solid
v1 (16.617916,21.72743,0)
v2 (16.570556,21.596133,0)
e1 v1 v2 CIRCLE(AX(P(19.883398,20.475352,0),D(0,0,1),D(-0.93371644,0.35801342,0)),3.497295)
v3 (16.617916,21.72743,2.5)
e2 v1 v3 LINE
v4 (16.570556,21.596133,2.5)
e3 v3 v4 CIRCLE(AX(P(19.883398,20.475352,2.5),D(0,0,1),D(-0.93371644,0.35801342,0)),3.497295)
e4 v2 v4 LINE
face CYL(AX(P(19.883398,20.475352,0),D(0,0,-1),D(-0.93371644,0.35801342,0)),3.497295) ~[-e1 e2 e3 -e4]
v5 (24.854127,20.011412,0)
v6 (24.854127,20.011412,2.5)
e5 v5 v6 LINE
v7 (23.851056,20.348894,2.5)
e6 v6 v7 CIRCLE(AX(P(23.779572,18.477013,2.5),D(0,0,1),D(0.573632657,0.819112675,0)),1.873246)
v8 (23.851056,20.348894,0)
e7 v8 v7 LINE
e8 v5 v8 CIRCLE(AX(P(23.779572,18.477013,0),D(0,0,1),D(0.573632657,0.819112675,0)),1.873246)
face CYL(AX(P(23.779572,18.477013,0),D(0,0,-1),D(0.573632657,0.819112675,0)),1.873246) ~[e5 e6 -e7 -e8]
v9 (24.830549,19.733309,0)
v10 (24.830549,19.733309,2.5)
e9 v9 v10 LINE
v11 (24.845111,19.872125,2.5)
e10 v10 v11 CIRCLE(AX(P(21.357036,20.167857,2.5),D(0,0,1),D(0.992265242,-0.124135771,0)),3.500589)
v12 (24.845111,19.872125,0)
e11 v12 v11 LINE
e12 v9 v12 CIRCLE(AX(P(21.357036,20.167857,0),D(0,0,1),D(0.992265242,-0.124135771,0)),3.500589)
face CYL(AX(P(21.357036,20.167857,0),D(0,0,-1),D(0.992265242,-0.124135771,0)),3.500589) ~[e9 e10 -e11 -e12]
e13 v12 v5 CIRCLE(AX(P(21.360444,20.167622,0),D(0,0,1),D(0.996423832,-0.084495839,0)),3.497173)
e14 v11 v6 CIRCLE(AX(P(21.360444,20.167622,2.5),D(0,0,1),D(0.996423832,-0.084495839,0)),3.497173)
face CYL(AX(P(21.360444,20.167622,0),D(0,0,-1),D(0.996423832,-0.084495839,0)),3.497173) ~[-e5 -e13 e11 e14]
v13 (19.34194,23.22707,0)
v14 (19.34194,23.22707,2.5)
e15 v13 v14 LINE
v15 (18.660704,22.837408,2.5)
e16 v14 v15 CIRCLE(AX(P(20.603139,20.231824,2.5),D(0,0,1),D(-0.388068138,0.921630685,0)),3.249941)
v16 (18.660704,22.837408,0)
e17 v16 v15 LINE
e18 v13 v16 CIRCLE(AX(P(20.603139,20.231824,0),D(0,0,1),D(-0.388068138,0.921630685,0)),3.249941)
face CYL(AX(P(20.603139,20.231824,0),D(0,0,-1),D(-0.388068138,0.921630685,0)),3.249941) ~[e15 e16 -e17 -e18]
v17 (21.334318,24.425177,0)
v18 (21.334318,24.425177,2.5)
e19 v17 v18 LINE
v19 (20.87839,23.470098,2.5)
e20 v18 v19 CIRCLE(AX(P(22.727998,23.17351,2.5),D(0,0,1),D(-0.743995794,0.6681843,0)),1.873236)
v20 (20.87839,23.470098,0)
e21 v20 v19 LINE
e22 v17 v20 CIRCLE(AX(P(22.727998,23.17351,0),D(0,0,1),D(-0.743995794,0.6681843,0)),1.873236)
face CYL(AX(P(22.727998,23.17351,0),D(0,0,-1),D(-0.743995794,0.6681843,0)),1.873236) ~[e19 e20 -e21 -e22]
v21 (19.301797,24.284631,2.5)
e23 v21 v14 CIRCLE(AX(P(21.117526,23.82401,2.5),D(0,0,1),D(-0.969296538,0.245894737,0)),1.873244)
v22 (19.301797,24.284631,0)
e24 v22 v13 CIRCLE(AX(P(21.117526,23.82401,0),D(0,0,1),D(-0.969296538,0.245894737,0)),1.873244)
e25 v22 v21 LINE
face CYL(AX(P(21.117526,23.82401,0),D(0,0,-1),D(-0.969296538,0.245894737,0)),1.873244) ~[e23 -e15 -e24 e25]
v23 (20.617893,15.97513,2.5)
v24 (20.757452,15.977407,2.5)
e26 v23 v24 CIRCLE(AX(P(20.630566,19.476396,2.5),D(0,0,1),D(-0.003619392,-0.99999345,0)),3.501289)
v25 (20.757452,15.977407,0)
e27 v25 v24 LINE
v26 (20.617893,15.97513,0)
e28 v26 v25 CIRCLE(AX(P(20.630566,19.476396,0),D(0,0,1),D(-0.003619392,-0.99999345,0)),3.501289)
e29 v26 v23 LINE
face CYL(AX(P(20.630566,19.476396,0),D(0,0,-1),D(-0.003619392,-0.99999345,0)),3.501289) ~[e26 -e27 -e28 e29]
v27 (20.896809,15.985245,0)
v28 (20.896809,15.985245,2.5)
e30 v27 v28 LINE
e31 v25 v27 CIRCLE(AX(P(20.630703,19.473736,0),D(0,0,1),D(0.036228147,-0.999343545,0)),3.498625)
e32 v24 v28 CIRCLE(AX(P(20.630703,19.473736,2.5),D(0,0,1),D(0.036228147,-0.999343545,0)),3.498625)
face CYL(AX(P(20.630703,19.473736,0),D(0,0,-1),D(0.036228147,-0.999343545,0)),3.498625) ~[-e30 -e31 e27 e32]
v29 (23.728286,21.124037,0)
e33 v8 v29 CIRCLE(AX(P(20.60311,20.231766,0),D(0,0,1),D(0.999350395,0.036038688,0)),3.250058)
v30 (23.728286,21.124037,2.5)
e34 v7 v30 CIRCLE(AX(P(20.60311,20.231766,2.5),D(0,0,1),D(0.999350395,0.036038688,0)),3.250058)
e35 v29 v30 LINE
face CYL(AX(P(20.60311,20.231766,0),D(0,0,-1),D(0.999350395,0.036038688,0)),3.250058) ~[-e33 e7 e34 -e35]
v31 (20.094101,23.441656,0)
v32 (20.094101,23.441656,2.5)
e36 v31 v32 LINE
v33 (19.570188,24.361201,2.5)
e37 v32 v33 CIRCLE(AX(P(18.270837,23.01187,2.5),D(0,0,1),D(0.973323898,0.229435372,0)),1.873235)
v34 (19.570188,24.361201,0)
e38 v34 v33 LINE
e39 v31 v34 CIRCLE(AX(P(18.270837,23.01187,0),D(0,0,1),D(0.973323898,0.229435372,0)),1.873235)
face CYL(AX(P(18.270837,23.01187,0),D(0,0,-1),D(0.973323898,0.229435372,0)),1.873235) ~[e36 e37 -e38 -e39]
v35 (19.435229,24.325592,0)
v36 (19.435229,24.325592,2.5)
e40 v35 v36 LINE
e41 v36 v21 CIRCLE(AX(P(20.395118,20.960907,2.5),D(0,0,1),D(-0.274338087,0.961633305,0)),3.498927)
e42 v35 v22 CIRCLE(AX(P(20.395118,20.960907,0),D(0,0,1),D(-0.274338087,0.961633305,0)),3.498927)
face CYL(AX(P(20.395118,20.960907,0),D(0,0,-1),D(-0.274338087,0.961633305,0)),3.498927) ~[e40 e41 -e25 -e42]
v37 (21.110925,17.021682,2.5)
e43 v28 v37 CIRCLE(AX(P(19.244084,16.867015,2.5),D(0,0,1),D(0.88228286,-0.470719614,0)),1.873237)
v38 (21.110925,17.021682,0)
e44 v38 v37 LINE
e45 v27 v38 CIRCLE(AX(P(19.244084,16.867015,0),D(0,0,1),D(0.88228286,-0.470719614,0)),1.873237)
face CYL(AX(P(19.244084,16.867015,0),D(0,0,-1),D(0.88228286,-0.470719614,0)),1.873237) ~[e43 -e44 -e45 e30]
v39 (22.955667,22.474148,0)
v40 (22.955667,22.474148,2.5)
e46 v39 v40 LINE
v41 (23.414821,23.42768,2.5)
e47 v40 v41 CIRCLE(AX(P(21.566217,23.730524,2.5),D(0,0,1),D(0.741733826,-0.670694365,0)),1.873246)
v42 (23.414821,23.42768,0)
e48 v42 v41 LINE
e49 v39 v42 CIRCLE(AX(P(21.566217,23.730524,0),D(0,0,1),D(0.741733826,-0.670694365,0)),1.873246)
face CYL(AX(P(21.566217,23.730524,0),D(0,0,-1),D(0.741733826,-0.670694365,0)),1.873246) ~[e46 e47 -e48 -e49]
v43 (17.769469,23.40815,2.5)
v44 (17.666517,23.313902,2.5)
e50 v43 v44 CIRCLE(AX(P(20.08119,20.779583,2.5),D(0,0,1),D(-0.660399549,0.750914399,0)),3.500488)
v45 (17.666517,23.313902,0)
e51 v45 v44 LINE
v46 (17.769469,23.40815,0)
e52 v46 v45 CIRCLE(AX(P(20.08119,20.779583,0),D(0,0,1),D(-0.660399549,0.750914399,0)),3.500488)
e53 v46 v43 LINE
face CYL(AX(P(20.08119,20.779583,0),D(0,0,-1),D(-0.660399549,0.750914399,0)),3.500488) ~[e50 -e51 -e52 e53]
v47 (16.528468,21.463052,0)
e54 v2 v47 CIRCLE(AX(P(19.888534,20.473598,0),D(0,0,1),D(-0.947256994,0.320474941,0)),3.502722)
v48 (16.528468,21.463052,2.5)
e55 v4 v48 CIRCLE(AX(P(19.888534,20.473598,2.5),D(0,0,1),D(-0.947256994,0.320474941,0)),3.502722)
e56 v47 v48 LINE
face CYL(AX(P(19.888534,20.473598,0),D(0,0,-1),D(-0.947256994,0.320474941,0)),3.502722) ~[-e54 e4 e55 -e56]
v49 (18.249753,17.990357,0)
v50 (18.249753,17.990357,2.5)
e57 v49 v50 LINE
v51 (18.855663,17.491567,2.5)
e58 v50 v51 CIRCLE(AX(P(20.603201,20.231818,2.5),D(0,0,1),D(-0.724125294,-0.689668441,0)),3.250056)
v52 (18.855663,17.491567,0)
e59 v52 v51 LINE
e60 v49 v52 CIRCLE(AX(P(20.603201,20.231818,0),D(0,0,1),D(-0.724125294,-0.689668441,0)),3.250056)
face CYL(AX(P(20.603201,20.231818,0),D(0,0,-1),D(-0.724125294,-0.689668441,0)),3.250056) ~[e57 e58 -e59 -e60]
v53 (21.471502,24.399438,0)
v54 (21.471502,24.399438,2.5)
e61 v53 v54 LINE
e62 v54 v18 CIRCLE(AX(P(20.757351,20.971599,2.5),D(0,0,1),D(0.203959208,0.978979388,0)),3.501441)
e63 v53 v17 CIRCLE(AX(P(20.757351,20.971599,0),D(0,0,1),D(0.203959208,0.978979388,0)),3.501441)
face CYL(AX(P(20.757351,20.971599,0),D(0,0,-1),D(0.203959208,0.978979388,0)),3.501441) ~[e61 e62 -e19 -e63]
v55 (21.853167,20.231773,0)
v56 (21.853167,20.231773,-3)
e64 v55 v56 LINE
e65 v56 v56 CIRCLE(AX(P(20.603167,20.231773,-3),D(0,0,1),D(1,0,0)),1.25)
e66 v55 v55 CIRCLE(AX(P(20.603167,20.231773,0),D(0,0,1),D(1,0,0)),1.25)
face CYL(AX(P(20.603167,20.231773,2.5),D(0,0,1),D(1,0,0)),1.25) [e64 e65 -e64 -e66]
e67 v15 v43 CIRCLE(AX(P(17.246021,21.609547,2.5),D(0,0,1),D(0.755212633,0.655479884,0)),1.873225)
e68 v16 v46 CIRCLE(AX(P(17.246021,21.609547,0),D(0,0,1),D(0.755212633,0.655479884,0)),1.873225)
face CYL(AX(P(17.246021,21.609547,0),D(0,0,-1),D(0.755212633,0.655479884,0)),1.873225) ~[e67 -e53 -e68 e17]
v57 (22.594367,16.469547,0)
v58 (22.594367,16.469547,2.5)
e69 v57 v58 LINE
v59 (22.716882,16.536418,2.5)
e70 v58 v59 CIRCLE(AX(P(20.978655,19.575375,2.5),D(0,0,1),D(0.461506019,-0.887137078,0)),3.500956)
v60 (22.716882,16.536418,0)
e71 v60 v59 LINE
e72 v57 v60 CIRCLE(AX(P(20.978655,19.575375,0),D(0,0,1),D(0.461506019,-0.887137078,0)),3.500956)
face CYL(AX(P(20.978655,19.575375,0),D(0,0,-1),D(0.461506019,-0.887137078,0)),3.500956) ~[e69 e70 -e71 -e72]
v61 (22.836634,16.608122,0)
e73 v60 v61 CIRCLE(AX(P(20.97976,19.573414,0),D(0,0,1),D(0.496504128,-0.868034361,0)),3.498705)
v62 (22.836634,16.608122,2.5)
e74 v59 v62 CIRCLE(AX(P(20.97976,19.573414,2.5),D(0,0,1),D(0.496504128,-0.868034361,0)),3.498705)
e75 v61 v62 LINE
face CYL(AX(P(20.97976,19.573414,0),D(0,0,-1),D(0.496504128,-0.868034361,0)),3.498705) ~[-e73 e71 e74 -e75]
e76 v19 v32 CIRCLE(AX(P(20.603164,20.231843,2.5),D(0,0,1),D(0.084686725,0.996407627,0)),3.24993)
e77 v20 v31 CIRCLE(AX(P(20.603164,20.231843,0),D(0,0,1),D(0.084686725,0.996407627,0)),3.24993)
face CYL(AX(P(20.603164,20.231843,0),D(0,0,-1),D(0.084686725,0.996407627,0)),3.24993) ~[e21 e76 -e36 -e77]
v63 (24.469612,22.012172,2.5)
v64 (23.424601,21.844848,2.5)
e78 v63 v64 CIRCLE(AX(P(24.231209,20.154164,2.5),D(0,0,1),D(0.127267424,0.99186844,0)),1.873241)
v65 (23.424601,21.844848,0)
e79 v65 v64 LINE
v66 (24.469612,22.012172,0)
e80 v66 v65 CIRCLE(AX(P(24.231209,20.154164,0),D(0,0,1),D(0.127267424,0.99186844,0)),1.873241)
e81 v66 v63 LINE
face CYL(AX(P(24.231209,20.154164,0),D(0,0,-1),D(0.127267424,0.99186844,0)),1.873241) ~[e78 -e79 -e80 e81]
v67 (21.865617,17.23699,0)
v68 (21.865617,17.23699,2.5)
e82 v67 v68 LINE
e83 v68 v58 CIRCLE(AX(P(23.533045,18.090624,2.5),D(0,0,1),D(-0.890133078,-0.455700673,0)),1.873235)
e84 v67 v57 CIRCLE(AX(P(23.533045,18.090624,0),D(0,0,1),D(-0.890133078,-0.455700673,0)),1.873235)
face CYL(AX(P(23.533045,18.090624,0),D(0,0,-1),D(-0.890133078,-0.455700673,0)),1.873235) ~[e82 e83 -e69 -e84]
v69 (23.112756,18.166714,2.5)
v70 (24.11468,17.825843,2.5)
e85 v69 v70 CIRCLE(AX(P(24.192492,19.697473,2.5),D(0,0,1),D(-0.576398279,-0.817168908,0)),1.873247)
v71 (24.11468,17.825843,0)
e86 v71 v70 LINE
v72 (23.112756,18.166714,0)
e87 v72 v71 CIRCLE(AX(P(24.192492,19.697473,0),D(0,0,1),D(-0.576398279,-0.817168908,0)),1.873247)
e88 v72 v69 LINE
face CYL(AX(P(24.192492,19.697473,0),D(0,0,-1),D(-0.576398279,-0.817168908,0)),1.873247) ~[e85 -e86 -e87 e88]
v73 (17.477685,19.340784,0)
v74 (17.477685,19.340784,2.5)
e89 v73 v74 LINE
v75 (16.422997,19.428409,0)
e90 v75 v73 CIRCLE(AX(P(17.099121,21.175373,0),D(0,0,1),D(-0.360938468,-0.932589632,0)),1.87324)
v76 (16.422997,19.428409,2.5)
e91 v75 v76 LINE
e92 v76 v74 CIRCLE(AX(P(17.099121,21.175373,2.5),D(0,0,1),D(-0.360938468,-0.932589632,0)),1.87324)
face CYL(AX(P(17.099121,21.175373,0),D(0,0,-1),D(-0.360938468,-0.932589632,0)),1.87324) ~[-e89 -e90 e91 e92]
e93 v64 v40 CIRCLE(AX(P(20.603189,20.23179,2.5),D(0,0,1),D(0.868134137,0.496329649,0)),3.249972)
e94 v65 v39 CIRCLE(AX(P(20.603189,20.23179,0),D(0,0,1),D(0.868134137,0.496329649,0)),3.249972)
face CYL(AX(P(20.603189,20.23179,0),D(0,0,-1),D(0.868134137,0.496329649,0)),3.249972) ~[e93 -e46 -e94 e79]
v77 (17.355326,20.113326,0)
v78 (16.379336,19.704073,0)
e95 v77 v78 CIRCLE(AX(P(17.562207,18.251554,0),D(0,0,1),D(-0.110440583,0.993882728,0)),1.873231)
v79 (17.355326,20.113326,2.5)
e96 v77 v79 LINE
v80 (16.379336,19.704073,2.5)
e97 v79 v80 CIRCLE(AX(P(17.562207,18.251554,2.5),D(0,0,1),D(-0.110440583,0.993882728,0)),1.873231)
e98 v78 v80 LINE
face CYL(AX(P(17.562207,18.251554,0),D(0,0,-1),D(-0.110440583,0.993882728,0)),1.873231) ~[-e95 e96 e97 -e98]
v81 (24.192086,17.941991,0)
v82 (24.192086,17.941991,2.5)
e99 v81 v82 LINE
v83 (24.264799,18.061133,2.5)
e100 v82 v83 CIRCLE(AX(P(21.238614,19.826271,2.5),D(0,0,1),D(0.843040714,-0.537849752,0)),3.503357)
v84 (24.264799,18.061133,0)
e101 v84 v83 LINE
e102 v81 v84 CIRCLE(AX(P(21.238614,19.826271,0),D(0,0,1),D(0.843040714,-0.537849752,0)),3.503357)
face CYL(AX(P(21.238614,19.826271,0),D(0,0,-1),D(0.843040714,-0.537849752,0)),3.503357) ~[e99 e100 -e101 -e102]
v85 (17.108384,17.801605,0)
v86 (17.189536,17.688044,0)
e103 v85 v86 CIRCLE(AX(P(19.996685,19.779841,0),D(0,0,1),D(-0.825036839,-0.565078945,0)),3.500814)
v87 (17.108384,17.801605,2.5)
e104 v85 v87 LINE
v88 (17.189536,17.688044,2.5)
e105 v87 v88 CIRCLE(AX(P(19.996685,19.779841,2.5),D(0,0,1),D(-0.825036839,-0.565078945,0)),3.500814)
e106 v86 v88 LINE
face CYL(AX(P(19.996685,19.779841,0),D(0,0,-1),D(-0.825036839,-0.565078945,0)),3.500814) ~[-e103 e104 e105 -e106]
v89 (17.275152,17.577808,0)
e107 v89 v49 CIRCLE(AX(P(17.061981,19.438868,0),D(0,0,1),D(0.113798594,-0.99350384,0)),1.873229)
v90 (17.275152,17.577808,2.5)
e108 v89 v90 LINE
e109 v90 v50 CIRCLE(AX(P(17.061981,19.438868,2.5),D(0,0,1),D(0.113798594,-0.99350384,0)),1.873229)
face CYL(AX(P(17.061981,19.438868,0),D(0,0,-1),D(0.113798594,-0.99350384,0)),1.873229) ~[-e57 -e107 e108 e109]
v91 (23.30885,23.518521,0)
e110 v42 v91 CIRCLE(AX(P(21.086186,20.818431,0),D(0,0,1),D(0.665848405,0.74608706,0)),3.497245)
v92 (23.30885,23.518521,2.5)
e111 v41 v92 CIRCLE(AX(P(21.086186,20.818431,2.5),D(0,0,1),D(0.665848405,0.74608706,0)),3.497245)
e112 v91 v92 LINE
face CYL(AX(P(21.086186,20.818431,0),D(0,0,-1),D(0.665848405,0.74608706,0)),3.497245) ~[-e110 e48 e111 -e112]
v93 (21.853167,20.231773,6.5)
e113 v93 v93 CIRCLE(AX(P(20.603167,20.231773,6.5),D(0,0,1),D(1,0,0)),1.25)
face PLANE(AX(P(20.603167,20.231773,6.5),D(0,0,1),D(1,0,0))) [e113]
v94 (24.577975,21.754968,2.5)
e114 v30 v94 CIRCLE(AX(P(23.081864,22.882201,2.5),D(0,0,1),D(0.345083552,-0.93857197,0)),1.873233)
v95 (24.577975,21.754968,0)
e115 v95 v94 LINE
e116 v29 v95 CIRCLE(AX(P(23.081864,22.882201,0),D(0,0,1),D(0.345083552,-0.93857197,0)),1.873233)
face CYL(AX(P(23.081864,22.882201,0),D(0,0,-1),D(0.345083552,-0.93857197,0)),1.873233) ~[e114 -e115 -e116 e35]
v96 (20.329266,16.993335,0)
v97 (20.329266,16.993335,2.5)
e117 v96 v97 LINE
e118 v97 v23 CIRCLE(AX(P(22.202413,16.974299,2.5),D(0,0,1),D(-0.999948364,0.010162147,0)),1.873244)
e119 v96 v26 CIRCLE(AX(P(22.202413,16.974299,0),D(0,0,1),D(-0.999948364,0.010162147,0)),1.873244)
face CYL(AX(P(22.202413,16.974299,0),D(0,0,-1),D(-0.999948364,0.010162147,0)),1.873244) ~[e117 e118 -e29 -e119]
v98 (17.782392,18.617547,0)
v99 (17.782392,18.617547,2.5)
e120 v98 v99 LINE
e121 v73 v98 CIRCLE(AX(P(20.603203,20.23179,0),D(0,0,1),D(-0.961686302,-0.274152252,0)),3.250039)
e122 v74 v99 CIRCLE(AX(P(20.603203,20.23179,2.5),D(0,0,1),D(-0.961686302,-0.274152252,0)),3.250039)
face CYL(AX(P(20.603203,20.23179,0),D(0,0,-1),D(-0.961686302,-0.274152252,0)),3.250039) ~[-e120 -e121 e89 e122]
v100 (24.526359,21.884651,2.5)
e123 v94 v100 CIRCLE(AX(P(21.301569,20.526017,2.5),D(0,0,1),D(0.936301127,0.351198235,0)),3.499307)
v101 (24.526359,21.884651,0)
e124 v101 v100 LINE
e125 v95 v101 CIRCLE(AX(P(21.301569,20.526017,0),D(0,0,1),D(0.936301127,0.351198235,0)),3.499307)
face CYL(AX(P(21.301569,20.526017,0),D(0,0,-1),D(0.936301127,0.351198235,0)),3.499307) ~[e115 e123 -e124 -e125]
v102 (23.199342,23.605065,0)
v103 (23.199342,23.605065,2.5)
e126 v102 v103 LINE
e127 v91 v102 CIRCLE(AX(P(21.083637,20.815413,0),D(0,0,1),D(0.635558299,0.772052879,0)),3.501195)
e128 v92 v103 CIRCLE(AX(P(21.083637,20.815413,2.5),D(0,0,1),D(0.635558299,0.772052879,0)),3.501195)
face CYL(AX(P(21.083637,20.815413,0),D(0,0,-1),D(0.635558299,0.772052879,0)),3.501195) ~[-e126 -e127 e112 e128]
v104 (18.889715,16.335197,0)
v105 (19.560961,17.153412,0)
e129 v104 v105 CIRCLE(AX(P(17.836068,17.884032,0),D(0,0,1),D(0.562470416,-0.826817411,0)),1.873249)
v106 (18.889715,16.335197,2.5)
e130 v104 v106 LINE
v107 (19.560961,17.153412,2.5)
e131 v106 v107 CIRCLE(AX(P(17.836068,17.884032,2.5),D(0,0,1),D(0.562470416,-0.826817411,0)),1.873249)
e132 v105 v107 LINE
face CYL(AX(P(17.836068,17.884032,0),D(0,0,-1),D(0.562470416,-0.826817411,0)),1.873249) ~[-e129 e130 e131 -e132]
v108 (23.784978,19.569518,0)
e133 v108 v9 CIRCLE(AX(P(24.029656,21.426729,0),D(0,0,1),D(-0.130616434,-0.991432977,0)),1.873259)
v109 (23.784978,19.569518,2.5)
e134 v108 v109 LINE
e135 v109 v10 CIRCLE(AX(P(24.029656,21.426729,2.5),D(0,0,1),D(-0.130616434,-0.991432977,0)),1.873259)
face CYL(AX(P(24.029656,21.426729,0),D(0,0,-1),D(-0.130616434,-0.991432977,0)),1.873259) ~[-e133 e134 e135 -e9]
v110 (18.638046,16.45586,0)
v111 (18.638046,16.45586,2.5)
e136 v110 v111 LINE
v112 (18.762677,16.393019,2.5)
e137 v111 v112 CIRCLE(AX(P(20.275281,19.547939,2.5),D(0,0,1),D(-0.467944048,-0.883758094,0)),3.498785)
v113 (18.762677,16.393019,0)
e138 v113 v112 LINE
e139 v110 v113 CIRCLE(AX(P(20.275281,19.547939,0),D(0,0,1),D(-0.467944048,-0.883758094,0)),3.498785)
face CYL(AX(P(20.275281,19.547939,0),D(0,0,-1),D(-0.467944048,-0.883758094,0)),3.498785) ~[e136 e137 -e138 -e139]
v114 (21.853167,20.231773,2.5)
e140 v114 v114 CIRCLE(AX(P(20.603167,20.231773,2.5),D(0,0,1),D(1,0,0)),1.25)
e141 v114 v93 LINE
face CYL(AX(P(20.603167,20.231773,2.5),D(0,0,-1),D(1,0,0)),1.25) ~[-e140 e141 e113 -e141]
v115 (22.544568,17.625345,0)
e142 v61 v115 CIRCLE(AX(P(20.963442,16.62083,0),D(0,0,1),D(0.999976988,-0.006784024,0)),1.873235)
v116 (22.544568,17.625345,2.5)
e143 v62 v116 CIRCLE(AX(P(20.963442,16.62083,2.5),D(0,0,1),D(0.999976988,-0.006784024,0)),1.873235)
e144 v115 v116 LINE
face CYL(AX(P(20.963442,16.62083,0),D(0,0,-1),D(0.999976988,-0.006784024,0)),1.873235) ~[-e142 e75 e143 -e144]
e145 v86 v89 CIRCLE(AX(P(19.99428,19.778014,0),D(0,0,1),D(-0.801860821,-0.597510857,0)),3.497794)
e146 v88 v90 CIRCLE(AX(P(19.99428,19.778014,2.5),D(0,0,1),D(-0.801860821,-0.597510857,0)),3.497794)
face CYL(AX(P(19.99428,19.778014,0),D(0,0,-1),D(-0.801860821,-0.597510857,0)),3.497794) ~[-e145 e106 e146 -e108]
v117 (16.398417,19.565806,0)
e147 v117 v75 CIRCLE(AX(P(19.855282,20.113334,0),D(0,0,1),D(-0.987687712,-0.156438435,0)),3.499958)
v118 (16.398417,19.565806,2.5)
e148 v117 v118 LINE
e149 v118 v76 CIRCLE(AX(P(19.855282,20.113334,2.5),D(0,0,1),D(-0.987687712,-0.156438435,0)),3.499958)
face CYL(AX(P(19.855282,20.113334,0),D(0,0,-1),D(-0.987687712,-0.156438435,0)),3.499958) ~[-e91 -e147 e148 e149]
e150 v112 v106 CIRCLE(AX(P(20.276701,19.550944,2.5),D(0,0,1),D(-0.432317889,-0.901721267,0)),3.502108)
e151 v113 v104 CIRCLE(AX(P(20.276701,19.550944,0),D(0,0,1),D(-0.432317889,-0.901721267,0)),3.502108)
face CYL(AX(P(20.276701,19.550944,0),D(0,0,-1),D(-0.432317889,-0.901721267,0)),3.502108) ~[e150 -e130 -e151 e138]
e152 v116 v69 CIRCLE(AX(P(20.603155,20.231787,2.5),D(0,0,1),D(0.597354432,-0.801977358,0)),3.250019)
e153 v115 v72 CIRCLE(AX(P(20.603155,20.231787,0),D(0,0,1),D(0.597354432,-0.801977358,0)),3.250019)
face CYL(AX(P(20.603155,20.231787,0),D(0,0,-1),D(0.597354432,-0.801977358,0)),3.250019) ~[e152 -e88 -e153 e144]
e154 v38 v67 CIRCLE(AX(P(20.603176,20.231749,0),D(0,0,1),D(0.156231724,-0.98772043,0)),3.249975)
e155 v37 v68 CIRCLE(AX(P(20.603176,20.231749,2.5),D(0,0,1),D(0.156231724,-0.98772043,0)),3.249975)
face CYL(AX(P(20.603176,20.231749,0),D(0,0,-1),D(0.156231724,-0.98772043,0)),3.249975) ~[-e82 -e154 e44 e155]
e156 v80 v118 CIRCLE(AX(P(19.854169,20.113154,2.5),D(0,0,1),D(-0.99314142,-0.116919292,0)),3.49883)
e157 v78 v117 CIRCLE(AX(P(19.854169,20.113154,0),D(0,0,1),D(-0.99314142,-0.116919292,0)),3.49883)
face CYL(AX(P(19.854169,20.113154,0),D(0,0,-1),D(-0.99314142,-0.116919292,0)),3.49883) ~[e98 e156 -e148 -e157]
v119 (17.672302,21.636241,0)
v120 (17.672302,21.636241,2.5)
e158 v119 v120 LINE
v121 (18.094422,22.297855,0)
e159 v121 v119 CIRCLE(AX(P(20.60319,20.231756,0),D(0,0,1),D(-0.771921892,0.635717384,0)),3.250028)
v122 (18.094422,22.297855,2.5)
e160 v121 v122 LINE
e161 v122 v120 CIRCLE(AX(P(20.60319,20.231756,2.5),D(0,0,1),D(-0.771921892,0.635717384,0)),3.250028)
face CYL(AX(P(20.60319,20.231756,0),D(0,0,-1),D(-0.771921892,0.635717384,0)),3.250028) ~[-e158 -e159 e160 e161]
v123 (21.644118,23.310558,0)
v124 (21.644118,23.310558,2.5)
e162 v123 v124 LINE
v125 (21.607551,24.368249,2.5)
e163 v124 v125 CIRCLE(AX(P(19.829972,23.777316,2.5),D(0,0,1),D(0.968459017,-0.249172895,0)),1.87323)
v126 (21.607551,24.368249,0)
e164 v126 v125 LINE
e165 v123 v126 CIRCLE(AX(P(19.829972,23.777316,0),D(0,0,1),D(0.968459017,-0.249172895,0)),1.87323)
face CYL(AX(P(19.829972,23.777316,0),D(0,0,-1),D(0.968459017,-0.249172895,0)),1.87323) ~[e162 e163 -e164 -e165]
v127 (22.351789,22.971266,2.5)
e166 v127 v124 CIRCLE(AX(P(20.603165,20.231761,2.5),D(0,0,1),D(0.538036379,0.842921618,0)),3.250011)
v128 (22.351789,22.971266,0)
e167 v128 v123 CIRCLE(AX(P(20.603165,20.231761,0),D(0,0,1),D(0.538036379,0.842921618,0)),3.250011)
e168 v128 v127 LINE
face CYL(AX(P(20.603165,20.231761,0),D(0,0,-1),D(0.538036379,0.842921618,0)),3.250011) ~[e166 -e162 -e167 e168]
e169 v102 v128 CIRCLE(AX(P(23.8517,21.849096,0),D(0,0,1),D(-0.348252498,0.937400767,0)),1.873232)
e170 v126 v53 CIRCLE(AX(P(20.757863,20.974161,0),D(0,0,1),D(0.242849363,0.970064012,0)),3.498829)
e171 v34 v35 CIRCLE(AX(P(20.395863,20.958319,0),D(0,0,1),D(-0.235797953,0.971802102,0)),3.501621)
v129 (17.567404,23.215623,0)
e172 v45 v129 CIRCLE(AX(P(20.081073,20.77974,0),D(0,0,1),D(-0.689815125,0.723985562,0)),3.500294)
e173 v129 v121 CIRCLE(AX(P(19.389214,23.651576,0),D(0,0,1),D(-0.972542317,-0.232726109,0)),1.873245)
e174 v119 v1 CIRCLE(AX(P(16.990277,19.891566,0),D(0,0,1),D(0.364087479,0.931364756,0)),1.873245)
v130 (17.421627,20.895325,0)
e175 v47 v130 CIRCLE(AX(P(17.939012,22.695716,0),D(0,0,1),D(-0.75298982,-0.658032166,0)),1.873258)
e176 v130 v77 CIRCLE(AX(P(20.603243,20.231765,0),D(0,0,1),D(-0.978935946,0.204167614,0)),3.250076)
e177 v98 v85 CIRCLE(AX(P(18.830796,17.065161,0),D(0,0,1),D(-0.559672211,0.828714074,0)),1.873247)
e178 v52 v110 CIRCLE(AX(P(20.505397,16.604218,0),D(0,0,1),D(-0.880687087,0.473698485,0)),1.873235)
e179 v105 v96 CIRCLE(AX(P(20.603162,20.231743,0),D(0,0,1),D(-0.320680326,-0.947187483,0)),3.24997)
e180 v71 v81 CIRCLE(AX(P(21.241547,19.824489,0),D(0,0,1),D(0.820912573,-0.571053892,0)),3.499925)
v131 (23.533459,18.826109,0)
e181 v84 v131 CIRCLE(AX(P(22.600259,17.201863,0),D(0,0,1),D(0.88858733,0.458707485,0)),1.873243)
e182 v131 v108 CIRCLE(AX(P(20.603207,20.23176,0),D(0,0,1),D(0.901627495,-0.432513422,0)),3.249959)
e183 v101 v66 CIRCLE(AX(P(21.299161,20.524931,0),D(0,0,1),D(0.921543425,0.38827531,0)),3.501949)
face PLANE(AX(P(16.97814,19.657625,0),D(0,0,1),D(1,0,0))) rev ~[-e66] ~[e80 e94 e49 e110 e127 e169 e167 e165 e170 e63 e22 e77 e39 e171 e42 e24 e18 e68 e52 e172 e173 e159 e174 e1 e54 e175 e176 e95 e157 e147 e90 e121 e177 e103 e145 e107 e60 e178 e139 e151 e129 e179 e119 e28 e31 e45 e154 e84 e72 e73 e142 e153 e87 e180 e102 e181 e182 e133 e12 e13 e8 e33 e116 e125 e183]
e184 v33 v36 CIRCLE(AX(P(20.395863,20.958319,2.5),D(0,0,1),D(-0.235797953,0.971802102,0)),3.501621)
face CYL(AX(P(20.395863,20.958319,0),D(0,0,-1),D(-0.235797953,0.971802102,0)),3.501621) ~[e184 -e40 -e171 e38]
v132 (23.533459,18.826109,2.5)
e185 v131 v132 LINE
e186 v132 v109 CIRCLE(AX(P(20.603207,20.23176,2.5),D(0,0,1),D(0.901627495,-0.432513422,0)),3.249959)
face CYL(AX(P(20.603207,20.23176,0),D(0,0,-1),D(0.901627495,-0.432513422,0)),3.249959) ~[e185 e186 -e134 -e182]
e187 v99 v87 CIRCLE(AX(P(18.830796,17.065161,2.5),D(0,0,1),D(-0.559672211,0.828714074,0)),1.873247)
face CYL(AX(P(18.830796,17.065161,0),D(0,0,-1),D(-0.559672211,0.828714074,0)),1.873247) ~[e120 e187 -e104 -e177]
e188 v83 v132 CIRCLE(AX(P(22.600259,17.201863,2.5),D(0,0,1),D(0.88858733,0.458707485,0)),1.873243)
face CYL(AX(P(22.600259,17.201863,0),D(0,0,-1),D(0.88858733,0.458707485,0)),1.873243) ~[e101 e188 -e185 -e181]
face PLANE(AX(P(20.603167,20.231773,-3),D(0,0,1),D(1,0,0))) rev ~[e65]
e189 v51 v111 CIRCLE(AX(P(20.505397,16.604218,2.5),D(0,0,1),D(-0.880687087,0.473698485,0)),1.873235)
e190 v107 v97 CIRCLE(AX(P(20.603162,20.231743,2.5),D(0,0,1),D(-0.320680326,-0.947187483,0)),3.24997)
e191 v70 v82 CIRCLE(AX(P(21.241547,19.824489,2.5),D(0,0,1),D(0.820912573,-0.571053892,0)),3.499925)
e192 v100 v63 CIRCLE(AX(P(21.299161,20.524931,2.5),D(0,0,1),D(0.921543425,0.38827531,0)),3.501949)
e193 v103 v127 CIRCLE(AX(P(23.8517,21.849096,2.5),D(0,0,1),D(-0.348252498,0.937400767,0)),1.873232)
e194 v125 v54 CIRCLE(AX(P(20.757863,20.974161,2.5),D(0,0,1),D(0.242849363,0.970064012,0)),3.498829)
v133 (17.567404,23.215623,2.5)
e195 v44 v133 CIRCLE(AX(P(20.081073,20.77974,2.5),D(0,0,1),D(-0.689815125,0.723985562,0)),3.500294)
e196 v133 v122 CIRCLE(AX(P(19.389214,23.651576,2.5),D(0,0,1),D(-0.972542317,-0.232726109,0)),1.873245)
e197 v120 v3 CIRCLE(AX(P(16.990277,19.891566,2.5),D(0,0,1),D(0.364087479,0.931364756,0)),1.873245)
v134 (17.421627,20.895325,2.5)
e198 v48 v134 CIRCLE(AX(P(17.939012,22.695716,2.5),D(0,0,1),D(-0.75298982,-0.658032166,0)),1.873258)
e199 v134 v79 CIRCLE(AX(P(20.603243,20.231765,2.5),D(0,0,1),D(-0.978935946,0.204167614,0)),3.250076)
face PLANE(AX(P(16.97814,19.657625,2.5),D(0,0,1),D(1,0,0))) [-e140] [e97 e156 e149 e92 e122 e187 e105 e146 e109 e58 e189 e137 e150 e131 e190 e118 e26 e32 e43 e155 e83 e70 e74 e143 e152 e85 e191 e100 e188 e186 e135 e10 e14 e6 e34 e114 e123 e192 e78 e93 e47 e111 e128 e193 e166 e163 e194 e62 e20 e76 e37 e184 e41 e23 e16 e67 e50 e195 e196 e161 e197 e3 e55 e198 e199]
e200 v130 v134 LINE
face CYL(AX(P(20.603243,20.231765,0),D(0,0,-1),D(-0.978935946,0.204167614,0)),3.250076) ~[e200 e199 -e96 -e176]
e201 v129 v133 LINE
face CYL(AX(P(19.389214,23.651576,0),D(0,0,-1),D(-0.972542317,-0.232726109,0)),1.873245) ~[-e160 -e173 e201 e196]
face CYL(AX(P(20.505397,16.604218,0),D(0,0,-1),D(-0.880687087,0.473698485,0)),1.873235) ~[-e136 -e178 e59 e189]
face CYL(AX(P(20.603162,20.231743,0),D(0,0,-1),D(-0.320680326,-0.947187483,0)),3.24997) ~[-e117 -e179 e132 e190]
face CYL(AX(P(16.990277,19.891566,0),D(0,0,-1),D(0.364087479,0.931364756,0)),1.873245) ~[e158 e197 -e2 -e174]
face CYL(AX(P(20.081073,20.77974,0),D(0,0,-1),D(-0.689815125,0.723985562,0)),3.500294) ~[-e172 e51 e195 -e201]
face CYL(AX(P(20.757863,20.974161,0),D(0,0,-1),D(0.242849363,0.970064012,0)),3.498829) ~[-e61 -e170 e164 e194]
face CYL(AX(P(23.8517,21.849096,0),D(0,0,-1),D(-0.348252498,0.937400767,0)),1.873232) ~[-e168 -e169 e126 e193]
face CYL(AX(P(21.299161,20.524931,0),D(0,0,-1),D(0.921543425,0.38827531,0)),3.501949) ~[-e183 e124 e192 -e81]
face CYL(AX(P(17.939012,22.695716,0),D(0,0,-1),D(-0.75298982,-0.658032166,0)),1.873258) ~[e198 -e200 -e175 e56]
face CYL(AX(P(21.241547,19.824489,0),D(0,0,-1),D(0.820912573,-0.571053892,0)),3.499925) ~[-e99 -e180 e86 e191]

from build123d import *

# Parameters (mm, degrees)
F1_DEPTH      = 2.5
F2_R          = 1.25
F3_DEPTH      = 4
F3_DEPTH_BACK = 5.5


with BuildPart() as f1:
    # F0 (on Top) → F1 (new body)
    with BuildSketch(Plane.XY):
        with BuildLine():
            ThreePointArc((16.398417, 19.565806), (16.410022, 19.496985), (16.422997, 19.428409))
            ThreePointArc((16.422997, 19.428409), (16.944024, 19.308565), (17.477685, 19.340784))
            ThreePointArc((17.477685, 19.340784), (17.39318, 19.723361), (17.355326, 20.113326))
            ThreePointArc((17.355326, 20.113326), (16.837828, 19.979058), (16.379336, 19.704073))
            ThreePointArc((16.379336, 19.704073), (16.388187, 19.634844), (16.398417, 19.565806))
        make_face()
        with BuildLine():
            ThreePointArc((17.355326, 20.113326), (17.39318, 19.723361), (17.477685, 19.340784))
            ThreePointArc((17.477685, 19.340784), (17.608128, 18.969934), (17.782392, 18.617547))
            ThreePointArc((17.782392, 18.617547), (17.997136, 18.289841), (18.249753, 17.990357))
            ThreePointArc((18.249753, 17.990357), (18.537597, 17.722606), (18.855663, 17.491567))
            ThreePointArc((18.855663, 17.491567), (19.198102, 17.301194), (19.560961, 17.153412))
            ThreePointArc((19.560961, 17.153412), (19.940264, 17.050097), (20.329266, 16.993335))
            ThreePointArc((20.329266, 16.993335), (20.720951, 16.983908), (21.110925, 17.021682))
            ThreePointArc((21.110925, 17.021682), (21.494794, 17.106472), (21.865617, 17.23699))
            ThreePointArc((21.865617, 17.23699), (22.216818, 17.410668), (22.544568, 17.625345))
            ThreePointArc((22.544568, 17.625345), (22.845063, 17.878816), (23.112756, 18.166714))
            ThreePointArc((23.112756, 18.166714), (23.343017, 18.483709), (23.533459, 18.826109))
            ThreePointArc((23.533459, 18.826109), (23.681741, 19.190194), (23.784978, 19.569518))
            ThreePointArc((23.784978, 19.569518), (23.836075, 19.898895), (23.853167, 20.231773))
            ThreePointArc((23.853167, 20.231773), (23.85264, 20.290343), (23.851056, 20.348894))
            ThreePointArc((23.851056, 20.348894), (23.813154, 20.740185), (23.728286, 21.124037))
            ThreePointArc((23.728286, 21.124037), (23.598207, 21.493611), (23.424601, 21.844848))
            ThreePointArc((23.424601, 21.844848), (23.209199, 22.173705), (22.955667, 22.474148))
            ThreePointArc((22.955667, 22.474148), (22.668738, 22.74094), (22.351789, 22.971266))
            ThreePointArc((22.351789, 22.971266), (22.008233, 23.162351), (21.644118, 23.310558))
            ThreePointArc((21.644118, 23.310558), (21.266071, 23.413448), (20.87839, 23.470098))
            ThreePointArc((20.87839, 23.470098), (20.485383, 23.479638), (20.094101, 23.441656))
            ThreePointArc((20.094101, 23.441656), (19.711541, 23.357073), (19.34194, 23.22707))
            ThreePointArc((19.34194, 23.22707), (18.989517, 23.052878), (18.660704, 22.837408))
            ThreePointArc((18.660704, 22.837408), (18.361272, 22.584729), (18.094422, 22.297855))
            ThreePointArc((18.094422, 22.297855), (17.863318, 21.979836), (17.672302, 21.636241))
            ThreePointArc((17.672302, 21.636241), (17.524594, 21.273352), (17.421627, 20.895325))
            ThreePointArc((17.421627, 20.895325), (17.364786, 20.506335), (17.355326, 20.113326))
        make_face()
        with BuildLine():
            ThreePointArc((18.249753, 17.990357), (17.997136, 18.289841), (17.782392, 18.617547))
            ThreePointArc((17.782392, 18.617547), (17.386568, 18.258165), (17.108384, 17.801605))
            ThreePointArc((17.108384, 17.801605), (17.148394, 17.74442), (17.189536, 17.688044))
            ThreePointArc((17.189536, 17.688044), (17.231794, 17.632499), (17.275152, 17.577808))
            ThreePointArc((17.275152, 17.577808), (17.792193, 17.713824), (18.249753, 17.990357))
        make_face()
        with BuildLine():
            ThreePointArc((16.528468, 21.463052), (16.934121, 21.114802), (17.421627, 20.895325))
            ThreePointArc((17.421627, 20.895325), (17.524594, 21.273352), (17.672302, 21.636241))
            ThreePointArc((17.672302, 21.636241), (17.151683, 21.757845), (16.617916, 21.72743))
            ThreePointArc((16.617916, 21.72743), (16.593581, 21.662018), (16.570556, 21.596133))
            ThreePointArc((16.570556, 21.596133), (16.548849, 21.529802), (16.528468, 21.463052))
        make_face()
        with BuildLine():
            ThreePointArc((19.560961, 17.153412), (19.198102, 17.301194), (18.855663, 17.491567))
            ThreePointArc((18.855663, 17.491567), (18.672191, 16.989401), (18.638046, 16.45586))
            ThreePointArc((18.638046, 16.45586), (18.700048, 16.423818), (18.762677, 16.393019))
            ThreePointArc((18.762677, 16.393019), (18.825908, 16.363475), (18.889715, 16.335197))
            ThreePointArc((18.889715, 16.335197), (19.284322, 16.695915), (19.560961, 17.153412))
        make_face()
        with BuildLine():
            ThreePointArc((17.567404, 23.215623), (17.764752, 22.718747), (18.094422, 22.297855))
            ThreePointArc((18.094422, 22.297855), (18.361272, 22.584729), (18.660704, 22.837408))
            ThreePointArc((18.660704, 22.837408), (18.256231, 23.187028), (17.769469, 23.40815))
            ThreePointArc((17.769469, 23.40815), (17.717523, 23.361539), (17.666517, 23.313902))
            ThreePointArc((17.666517, 23.313902), (17.616471, 23.265257), (17.567404, 23.215623))
        make_face()
        with BuildLine():
            ThreePointArc((21.110925, 17.021682), (20.720951, 16.983908), (20.329266, 16.993335))
            ThreePointArc((20.329266, 16.993335), (20.400178, 16.463426), (20.617893, 15.97513))
            ThreePointArc((20.617893, 15.97513), (20.687684, 15.975573), (20.757452, 15.977407))
            ThreePointArc((20.757452, 15.977407), (20.82717, 15.980631), (20.896809, 15.985245))
            ThreePointArc((20.896809, 15.985245), (21.078583, 16.488028), (21.110925, 17.021682))
        make_face()
        with BuildLine():
            ThreePointArc((19.301797, 24.284631), (19.24563, 23.752956), (19.34194, 23.22707))
            ThreePointArc((19.34194, 23.22707), (19.711541, 23.357073), (20.094101, 23.441656))
            ThreePointArc((20.094101, 23.441656), (19.898434, 23.939197), (19.570188, 24.361201))
            ThreePointArc((19.570188, 24.361201), (19.502531, 24.344069), (19.435229, 24.325592))
            ThreePointArc((19.435229, 24.325592), (19.368309, 24.305777), (19.301797, 24.284631))
        make_face()
        with BuildLine():
            ThreePointArc((22.544568, 17.625345), (22.216818, 17.410668), (21.865617, 17.23699))
            ThreePointArc((21.865617, 17.23699), (22.174667, 16.800734), (22.594367, 16.469547))
            ThreePointArc((22.594367, 16.469547), (22.655958, 16.502372), (22.716882, 16.536418))
            ThreePointArc((22.716882, 16.536418), (22.777116, 16.571673), (22.836634, 16.608122))
            ThreePointArc((22.836634, 16.608122), (22.763932, 17.137788), (22.544568, 17.625345))
        make_face()
        with BuildLine():
            ThreePointArc((21.334318, 24.425177), (21.037503, 23.980505), (20.87839, 23.470098))
            ThreePointArc((20.87839, 23.470098), (21.266071, 23.413448), (21.644118, 23.310558))
            ThreePointArc((21.644118, 23.310558), (21.702083, 23.84204), (21.607551, 24.368249))
            ThreePointArc((21.607551, 24.368249), (21.539682, 24.384522), (21.471502, 24.399438))
            ThreePointArc((21.471502, 24.399438), (21.403039, 24.412991), (21.334318, 24.425177))
        make_face()
        with BuildLine():
            ThreePointArc((23.533459, 18.826109), (23.343017, 18.483709), (23.112756, 18.166714))
            ThreePointArc((23.112756, 18.166714), (23.589145, 17.924051), (24.11468, 17.825843))
            ThreePointArc((24.11468, 17.825843), (24.153962, 17.883531), (24.192086, 17.941991))
            ThreePointArc((24.192086, 17.941991), (24.229036, 18.0012), (24.264799, 18.061133))
            ThreePointArc((24.264799, 18.061133), (23.954275, 18.496343), (23.533459, 18.826109))
        make_face()
        with BuildLine():
            ThreePointArc((23.199342, 23.605065), (22.729875, 23.349265), (22.351789, 22.971266))
            ThreePointArc((22.351789, 22.971266), (22.668738, 22.74094), (22.955667, 22.474148))
            ThreePointArc((22.955667, 22.474148), (23.253983, 22.917814), (23.414821, 23.42768))
            ThreePointArc((23.414821, 23.42768), (23.362289, 23.473629), (23.30885, 23.518521))
            ThreePointArc((23.30885, 23.518521), (23.254527, 23.562339), (23.199342, 23.605065))
        make_face()
        with BuildLine():
            ThreePointArc((23.853167, 20.231773), (23.836075, 19.898895), (23.784978, 19.569518))
            ThreePointArc((23.784978, 19.569518), (24.319571, 19.57604), (24.830549, 19.733309))
            ThreePointArc((24.830549, 19.733309), (24.838522, 19.802645), (24.845111, 19.872125))
            ThreePointArc((24.845111, 19.872125), (24.850314, 19.941724), (24.854127, 20.011412))
            ThreePointArc((24.854127, 20.011412), (24.376921, 20.252463), (23.851056, 20.348894))
            ThreePointArc((23.851056, 20.348894), (23.85264, 20.290343), (23.853167, 20.231773))
        make_face()
        with BuildLine():
            ThreePointArc((24.469612, 22.012172), (23.935045, 22.003844), (23.424601, 21.844848))
            ThreePointArc((23.424601, 21.844848), (23.598207, 21.493611), (23.728286, 21.124037))
            ThreePointArc((23.728286, 21.124037), (24.198614, 21.378249), (24.577975, 21.754968))
            ThreePointArc((24.577975, 21.754968), (24.552814, 21.820066), (24.526359, 21.884651))
            ThreePointArc((24.526359, 21.884651), (24.498621, 21.948694), (24.469612, 22.012172))
        make_face()
    extrude(amount=F1_DEPTH)

    # F2 (on face) → F3 (join, two sides)
    with BuildSketch(Plane.XY.offset(2.5)) as f3_sk:
        with Locations((20.603167, 20.231773)):
            Circle(F2_R)
    extrude(amount=F3_DEPTH)
    extrude(f3_sk.sketch, amount=-F3_DEPTH_BACK)


solid = f1.part
